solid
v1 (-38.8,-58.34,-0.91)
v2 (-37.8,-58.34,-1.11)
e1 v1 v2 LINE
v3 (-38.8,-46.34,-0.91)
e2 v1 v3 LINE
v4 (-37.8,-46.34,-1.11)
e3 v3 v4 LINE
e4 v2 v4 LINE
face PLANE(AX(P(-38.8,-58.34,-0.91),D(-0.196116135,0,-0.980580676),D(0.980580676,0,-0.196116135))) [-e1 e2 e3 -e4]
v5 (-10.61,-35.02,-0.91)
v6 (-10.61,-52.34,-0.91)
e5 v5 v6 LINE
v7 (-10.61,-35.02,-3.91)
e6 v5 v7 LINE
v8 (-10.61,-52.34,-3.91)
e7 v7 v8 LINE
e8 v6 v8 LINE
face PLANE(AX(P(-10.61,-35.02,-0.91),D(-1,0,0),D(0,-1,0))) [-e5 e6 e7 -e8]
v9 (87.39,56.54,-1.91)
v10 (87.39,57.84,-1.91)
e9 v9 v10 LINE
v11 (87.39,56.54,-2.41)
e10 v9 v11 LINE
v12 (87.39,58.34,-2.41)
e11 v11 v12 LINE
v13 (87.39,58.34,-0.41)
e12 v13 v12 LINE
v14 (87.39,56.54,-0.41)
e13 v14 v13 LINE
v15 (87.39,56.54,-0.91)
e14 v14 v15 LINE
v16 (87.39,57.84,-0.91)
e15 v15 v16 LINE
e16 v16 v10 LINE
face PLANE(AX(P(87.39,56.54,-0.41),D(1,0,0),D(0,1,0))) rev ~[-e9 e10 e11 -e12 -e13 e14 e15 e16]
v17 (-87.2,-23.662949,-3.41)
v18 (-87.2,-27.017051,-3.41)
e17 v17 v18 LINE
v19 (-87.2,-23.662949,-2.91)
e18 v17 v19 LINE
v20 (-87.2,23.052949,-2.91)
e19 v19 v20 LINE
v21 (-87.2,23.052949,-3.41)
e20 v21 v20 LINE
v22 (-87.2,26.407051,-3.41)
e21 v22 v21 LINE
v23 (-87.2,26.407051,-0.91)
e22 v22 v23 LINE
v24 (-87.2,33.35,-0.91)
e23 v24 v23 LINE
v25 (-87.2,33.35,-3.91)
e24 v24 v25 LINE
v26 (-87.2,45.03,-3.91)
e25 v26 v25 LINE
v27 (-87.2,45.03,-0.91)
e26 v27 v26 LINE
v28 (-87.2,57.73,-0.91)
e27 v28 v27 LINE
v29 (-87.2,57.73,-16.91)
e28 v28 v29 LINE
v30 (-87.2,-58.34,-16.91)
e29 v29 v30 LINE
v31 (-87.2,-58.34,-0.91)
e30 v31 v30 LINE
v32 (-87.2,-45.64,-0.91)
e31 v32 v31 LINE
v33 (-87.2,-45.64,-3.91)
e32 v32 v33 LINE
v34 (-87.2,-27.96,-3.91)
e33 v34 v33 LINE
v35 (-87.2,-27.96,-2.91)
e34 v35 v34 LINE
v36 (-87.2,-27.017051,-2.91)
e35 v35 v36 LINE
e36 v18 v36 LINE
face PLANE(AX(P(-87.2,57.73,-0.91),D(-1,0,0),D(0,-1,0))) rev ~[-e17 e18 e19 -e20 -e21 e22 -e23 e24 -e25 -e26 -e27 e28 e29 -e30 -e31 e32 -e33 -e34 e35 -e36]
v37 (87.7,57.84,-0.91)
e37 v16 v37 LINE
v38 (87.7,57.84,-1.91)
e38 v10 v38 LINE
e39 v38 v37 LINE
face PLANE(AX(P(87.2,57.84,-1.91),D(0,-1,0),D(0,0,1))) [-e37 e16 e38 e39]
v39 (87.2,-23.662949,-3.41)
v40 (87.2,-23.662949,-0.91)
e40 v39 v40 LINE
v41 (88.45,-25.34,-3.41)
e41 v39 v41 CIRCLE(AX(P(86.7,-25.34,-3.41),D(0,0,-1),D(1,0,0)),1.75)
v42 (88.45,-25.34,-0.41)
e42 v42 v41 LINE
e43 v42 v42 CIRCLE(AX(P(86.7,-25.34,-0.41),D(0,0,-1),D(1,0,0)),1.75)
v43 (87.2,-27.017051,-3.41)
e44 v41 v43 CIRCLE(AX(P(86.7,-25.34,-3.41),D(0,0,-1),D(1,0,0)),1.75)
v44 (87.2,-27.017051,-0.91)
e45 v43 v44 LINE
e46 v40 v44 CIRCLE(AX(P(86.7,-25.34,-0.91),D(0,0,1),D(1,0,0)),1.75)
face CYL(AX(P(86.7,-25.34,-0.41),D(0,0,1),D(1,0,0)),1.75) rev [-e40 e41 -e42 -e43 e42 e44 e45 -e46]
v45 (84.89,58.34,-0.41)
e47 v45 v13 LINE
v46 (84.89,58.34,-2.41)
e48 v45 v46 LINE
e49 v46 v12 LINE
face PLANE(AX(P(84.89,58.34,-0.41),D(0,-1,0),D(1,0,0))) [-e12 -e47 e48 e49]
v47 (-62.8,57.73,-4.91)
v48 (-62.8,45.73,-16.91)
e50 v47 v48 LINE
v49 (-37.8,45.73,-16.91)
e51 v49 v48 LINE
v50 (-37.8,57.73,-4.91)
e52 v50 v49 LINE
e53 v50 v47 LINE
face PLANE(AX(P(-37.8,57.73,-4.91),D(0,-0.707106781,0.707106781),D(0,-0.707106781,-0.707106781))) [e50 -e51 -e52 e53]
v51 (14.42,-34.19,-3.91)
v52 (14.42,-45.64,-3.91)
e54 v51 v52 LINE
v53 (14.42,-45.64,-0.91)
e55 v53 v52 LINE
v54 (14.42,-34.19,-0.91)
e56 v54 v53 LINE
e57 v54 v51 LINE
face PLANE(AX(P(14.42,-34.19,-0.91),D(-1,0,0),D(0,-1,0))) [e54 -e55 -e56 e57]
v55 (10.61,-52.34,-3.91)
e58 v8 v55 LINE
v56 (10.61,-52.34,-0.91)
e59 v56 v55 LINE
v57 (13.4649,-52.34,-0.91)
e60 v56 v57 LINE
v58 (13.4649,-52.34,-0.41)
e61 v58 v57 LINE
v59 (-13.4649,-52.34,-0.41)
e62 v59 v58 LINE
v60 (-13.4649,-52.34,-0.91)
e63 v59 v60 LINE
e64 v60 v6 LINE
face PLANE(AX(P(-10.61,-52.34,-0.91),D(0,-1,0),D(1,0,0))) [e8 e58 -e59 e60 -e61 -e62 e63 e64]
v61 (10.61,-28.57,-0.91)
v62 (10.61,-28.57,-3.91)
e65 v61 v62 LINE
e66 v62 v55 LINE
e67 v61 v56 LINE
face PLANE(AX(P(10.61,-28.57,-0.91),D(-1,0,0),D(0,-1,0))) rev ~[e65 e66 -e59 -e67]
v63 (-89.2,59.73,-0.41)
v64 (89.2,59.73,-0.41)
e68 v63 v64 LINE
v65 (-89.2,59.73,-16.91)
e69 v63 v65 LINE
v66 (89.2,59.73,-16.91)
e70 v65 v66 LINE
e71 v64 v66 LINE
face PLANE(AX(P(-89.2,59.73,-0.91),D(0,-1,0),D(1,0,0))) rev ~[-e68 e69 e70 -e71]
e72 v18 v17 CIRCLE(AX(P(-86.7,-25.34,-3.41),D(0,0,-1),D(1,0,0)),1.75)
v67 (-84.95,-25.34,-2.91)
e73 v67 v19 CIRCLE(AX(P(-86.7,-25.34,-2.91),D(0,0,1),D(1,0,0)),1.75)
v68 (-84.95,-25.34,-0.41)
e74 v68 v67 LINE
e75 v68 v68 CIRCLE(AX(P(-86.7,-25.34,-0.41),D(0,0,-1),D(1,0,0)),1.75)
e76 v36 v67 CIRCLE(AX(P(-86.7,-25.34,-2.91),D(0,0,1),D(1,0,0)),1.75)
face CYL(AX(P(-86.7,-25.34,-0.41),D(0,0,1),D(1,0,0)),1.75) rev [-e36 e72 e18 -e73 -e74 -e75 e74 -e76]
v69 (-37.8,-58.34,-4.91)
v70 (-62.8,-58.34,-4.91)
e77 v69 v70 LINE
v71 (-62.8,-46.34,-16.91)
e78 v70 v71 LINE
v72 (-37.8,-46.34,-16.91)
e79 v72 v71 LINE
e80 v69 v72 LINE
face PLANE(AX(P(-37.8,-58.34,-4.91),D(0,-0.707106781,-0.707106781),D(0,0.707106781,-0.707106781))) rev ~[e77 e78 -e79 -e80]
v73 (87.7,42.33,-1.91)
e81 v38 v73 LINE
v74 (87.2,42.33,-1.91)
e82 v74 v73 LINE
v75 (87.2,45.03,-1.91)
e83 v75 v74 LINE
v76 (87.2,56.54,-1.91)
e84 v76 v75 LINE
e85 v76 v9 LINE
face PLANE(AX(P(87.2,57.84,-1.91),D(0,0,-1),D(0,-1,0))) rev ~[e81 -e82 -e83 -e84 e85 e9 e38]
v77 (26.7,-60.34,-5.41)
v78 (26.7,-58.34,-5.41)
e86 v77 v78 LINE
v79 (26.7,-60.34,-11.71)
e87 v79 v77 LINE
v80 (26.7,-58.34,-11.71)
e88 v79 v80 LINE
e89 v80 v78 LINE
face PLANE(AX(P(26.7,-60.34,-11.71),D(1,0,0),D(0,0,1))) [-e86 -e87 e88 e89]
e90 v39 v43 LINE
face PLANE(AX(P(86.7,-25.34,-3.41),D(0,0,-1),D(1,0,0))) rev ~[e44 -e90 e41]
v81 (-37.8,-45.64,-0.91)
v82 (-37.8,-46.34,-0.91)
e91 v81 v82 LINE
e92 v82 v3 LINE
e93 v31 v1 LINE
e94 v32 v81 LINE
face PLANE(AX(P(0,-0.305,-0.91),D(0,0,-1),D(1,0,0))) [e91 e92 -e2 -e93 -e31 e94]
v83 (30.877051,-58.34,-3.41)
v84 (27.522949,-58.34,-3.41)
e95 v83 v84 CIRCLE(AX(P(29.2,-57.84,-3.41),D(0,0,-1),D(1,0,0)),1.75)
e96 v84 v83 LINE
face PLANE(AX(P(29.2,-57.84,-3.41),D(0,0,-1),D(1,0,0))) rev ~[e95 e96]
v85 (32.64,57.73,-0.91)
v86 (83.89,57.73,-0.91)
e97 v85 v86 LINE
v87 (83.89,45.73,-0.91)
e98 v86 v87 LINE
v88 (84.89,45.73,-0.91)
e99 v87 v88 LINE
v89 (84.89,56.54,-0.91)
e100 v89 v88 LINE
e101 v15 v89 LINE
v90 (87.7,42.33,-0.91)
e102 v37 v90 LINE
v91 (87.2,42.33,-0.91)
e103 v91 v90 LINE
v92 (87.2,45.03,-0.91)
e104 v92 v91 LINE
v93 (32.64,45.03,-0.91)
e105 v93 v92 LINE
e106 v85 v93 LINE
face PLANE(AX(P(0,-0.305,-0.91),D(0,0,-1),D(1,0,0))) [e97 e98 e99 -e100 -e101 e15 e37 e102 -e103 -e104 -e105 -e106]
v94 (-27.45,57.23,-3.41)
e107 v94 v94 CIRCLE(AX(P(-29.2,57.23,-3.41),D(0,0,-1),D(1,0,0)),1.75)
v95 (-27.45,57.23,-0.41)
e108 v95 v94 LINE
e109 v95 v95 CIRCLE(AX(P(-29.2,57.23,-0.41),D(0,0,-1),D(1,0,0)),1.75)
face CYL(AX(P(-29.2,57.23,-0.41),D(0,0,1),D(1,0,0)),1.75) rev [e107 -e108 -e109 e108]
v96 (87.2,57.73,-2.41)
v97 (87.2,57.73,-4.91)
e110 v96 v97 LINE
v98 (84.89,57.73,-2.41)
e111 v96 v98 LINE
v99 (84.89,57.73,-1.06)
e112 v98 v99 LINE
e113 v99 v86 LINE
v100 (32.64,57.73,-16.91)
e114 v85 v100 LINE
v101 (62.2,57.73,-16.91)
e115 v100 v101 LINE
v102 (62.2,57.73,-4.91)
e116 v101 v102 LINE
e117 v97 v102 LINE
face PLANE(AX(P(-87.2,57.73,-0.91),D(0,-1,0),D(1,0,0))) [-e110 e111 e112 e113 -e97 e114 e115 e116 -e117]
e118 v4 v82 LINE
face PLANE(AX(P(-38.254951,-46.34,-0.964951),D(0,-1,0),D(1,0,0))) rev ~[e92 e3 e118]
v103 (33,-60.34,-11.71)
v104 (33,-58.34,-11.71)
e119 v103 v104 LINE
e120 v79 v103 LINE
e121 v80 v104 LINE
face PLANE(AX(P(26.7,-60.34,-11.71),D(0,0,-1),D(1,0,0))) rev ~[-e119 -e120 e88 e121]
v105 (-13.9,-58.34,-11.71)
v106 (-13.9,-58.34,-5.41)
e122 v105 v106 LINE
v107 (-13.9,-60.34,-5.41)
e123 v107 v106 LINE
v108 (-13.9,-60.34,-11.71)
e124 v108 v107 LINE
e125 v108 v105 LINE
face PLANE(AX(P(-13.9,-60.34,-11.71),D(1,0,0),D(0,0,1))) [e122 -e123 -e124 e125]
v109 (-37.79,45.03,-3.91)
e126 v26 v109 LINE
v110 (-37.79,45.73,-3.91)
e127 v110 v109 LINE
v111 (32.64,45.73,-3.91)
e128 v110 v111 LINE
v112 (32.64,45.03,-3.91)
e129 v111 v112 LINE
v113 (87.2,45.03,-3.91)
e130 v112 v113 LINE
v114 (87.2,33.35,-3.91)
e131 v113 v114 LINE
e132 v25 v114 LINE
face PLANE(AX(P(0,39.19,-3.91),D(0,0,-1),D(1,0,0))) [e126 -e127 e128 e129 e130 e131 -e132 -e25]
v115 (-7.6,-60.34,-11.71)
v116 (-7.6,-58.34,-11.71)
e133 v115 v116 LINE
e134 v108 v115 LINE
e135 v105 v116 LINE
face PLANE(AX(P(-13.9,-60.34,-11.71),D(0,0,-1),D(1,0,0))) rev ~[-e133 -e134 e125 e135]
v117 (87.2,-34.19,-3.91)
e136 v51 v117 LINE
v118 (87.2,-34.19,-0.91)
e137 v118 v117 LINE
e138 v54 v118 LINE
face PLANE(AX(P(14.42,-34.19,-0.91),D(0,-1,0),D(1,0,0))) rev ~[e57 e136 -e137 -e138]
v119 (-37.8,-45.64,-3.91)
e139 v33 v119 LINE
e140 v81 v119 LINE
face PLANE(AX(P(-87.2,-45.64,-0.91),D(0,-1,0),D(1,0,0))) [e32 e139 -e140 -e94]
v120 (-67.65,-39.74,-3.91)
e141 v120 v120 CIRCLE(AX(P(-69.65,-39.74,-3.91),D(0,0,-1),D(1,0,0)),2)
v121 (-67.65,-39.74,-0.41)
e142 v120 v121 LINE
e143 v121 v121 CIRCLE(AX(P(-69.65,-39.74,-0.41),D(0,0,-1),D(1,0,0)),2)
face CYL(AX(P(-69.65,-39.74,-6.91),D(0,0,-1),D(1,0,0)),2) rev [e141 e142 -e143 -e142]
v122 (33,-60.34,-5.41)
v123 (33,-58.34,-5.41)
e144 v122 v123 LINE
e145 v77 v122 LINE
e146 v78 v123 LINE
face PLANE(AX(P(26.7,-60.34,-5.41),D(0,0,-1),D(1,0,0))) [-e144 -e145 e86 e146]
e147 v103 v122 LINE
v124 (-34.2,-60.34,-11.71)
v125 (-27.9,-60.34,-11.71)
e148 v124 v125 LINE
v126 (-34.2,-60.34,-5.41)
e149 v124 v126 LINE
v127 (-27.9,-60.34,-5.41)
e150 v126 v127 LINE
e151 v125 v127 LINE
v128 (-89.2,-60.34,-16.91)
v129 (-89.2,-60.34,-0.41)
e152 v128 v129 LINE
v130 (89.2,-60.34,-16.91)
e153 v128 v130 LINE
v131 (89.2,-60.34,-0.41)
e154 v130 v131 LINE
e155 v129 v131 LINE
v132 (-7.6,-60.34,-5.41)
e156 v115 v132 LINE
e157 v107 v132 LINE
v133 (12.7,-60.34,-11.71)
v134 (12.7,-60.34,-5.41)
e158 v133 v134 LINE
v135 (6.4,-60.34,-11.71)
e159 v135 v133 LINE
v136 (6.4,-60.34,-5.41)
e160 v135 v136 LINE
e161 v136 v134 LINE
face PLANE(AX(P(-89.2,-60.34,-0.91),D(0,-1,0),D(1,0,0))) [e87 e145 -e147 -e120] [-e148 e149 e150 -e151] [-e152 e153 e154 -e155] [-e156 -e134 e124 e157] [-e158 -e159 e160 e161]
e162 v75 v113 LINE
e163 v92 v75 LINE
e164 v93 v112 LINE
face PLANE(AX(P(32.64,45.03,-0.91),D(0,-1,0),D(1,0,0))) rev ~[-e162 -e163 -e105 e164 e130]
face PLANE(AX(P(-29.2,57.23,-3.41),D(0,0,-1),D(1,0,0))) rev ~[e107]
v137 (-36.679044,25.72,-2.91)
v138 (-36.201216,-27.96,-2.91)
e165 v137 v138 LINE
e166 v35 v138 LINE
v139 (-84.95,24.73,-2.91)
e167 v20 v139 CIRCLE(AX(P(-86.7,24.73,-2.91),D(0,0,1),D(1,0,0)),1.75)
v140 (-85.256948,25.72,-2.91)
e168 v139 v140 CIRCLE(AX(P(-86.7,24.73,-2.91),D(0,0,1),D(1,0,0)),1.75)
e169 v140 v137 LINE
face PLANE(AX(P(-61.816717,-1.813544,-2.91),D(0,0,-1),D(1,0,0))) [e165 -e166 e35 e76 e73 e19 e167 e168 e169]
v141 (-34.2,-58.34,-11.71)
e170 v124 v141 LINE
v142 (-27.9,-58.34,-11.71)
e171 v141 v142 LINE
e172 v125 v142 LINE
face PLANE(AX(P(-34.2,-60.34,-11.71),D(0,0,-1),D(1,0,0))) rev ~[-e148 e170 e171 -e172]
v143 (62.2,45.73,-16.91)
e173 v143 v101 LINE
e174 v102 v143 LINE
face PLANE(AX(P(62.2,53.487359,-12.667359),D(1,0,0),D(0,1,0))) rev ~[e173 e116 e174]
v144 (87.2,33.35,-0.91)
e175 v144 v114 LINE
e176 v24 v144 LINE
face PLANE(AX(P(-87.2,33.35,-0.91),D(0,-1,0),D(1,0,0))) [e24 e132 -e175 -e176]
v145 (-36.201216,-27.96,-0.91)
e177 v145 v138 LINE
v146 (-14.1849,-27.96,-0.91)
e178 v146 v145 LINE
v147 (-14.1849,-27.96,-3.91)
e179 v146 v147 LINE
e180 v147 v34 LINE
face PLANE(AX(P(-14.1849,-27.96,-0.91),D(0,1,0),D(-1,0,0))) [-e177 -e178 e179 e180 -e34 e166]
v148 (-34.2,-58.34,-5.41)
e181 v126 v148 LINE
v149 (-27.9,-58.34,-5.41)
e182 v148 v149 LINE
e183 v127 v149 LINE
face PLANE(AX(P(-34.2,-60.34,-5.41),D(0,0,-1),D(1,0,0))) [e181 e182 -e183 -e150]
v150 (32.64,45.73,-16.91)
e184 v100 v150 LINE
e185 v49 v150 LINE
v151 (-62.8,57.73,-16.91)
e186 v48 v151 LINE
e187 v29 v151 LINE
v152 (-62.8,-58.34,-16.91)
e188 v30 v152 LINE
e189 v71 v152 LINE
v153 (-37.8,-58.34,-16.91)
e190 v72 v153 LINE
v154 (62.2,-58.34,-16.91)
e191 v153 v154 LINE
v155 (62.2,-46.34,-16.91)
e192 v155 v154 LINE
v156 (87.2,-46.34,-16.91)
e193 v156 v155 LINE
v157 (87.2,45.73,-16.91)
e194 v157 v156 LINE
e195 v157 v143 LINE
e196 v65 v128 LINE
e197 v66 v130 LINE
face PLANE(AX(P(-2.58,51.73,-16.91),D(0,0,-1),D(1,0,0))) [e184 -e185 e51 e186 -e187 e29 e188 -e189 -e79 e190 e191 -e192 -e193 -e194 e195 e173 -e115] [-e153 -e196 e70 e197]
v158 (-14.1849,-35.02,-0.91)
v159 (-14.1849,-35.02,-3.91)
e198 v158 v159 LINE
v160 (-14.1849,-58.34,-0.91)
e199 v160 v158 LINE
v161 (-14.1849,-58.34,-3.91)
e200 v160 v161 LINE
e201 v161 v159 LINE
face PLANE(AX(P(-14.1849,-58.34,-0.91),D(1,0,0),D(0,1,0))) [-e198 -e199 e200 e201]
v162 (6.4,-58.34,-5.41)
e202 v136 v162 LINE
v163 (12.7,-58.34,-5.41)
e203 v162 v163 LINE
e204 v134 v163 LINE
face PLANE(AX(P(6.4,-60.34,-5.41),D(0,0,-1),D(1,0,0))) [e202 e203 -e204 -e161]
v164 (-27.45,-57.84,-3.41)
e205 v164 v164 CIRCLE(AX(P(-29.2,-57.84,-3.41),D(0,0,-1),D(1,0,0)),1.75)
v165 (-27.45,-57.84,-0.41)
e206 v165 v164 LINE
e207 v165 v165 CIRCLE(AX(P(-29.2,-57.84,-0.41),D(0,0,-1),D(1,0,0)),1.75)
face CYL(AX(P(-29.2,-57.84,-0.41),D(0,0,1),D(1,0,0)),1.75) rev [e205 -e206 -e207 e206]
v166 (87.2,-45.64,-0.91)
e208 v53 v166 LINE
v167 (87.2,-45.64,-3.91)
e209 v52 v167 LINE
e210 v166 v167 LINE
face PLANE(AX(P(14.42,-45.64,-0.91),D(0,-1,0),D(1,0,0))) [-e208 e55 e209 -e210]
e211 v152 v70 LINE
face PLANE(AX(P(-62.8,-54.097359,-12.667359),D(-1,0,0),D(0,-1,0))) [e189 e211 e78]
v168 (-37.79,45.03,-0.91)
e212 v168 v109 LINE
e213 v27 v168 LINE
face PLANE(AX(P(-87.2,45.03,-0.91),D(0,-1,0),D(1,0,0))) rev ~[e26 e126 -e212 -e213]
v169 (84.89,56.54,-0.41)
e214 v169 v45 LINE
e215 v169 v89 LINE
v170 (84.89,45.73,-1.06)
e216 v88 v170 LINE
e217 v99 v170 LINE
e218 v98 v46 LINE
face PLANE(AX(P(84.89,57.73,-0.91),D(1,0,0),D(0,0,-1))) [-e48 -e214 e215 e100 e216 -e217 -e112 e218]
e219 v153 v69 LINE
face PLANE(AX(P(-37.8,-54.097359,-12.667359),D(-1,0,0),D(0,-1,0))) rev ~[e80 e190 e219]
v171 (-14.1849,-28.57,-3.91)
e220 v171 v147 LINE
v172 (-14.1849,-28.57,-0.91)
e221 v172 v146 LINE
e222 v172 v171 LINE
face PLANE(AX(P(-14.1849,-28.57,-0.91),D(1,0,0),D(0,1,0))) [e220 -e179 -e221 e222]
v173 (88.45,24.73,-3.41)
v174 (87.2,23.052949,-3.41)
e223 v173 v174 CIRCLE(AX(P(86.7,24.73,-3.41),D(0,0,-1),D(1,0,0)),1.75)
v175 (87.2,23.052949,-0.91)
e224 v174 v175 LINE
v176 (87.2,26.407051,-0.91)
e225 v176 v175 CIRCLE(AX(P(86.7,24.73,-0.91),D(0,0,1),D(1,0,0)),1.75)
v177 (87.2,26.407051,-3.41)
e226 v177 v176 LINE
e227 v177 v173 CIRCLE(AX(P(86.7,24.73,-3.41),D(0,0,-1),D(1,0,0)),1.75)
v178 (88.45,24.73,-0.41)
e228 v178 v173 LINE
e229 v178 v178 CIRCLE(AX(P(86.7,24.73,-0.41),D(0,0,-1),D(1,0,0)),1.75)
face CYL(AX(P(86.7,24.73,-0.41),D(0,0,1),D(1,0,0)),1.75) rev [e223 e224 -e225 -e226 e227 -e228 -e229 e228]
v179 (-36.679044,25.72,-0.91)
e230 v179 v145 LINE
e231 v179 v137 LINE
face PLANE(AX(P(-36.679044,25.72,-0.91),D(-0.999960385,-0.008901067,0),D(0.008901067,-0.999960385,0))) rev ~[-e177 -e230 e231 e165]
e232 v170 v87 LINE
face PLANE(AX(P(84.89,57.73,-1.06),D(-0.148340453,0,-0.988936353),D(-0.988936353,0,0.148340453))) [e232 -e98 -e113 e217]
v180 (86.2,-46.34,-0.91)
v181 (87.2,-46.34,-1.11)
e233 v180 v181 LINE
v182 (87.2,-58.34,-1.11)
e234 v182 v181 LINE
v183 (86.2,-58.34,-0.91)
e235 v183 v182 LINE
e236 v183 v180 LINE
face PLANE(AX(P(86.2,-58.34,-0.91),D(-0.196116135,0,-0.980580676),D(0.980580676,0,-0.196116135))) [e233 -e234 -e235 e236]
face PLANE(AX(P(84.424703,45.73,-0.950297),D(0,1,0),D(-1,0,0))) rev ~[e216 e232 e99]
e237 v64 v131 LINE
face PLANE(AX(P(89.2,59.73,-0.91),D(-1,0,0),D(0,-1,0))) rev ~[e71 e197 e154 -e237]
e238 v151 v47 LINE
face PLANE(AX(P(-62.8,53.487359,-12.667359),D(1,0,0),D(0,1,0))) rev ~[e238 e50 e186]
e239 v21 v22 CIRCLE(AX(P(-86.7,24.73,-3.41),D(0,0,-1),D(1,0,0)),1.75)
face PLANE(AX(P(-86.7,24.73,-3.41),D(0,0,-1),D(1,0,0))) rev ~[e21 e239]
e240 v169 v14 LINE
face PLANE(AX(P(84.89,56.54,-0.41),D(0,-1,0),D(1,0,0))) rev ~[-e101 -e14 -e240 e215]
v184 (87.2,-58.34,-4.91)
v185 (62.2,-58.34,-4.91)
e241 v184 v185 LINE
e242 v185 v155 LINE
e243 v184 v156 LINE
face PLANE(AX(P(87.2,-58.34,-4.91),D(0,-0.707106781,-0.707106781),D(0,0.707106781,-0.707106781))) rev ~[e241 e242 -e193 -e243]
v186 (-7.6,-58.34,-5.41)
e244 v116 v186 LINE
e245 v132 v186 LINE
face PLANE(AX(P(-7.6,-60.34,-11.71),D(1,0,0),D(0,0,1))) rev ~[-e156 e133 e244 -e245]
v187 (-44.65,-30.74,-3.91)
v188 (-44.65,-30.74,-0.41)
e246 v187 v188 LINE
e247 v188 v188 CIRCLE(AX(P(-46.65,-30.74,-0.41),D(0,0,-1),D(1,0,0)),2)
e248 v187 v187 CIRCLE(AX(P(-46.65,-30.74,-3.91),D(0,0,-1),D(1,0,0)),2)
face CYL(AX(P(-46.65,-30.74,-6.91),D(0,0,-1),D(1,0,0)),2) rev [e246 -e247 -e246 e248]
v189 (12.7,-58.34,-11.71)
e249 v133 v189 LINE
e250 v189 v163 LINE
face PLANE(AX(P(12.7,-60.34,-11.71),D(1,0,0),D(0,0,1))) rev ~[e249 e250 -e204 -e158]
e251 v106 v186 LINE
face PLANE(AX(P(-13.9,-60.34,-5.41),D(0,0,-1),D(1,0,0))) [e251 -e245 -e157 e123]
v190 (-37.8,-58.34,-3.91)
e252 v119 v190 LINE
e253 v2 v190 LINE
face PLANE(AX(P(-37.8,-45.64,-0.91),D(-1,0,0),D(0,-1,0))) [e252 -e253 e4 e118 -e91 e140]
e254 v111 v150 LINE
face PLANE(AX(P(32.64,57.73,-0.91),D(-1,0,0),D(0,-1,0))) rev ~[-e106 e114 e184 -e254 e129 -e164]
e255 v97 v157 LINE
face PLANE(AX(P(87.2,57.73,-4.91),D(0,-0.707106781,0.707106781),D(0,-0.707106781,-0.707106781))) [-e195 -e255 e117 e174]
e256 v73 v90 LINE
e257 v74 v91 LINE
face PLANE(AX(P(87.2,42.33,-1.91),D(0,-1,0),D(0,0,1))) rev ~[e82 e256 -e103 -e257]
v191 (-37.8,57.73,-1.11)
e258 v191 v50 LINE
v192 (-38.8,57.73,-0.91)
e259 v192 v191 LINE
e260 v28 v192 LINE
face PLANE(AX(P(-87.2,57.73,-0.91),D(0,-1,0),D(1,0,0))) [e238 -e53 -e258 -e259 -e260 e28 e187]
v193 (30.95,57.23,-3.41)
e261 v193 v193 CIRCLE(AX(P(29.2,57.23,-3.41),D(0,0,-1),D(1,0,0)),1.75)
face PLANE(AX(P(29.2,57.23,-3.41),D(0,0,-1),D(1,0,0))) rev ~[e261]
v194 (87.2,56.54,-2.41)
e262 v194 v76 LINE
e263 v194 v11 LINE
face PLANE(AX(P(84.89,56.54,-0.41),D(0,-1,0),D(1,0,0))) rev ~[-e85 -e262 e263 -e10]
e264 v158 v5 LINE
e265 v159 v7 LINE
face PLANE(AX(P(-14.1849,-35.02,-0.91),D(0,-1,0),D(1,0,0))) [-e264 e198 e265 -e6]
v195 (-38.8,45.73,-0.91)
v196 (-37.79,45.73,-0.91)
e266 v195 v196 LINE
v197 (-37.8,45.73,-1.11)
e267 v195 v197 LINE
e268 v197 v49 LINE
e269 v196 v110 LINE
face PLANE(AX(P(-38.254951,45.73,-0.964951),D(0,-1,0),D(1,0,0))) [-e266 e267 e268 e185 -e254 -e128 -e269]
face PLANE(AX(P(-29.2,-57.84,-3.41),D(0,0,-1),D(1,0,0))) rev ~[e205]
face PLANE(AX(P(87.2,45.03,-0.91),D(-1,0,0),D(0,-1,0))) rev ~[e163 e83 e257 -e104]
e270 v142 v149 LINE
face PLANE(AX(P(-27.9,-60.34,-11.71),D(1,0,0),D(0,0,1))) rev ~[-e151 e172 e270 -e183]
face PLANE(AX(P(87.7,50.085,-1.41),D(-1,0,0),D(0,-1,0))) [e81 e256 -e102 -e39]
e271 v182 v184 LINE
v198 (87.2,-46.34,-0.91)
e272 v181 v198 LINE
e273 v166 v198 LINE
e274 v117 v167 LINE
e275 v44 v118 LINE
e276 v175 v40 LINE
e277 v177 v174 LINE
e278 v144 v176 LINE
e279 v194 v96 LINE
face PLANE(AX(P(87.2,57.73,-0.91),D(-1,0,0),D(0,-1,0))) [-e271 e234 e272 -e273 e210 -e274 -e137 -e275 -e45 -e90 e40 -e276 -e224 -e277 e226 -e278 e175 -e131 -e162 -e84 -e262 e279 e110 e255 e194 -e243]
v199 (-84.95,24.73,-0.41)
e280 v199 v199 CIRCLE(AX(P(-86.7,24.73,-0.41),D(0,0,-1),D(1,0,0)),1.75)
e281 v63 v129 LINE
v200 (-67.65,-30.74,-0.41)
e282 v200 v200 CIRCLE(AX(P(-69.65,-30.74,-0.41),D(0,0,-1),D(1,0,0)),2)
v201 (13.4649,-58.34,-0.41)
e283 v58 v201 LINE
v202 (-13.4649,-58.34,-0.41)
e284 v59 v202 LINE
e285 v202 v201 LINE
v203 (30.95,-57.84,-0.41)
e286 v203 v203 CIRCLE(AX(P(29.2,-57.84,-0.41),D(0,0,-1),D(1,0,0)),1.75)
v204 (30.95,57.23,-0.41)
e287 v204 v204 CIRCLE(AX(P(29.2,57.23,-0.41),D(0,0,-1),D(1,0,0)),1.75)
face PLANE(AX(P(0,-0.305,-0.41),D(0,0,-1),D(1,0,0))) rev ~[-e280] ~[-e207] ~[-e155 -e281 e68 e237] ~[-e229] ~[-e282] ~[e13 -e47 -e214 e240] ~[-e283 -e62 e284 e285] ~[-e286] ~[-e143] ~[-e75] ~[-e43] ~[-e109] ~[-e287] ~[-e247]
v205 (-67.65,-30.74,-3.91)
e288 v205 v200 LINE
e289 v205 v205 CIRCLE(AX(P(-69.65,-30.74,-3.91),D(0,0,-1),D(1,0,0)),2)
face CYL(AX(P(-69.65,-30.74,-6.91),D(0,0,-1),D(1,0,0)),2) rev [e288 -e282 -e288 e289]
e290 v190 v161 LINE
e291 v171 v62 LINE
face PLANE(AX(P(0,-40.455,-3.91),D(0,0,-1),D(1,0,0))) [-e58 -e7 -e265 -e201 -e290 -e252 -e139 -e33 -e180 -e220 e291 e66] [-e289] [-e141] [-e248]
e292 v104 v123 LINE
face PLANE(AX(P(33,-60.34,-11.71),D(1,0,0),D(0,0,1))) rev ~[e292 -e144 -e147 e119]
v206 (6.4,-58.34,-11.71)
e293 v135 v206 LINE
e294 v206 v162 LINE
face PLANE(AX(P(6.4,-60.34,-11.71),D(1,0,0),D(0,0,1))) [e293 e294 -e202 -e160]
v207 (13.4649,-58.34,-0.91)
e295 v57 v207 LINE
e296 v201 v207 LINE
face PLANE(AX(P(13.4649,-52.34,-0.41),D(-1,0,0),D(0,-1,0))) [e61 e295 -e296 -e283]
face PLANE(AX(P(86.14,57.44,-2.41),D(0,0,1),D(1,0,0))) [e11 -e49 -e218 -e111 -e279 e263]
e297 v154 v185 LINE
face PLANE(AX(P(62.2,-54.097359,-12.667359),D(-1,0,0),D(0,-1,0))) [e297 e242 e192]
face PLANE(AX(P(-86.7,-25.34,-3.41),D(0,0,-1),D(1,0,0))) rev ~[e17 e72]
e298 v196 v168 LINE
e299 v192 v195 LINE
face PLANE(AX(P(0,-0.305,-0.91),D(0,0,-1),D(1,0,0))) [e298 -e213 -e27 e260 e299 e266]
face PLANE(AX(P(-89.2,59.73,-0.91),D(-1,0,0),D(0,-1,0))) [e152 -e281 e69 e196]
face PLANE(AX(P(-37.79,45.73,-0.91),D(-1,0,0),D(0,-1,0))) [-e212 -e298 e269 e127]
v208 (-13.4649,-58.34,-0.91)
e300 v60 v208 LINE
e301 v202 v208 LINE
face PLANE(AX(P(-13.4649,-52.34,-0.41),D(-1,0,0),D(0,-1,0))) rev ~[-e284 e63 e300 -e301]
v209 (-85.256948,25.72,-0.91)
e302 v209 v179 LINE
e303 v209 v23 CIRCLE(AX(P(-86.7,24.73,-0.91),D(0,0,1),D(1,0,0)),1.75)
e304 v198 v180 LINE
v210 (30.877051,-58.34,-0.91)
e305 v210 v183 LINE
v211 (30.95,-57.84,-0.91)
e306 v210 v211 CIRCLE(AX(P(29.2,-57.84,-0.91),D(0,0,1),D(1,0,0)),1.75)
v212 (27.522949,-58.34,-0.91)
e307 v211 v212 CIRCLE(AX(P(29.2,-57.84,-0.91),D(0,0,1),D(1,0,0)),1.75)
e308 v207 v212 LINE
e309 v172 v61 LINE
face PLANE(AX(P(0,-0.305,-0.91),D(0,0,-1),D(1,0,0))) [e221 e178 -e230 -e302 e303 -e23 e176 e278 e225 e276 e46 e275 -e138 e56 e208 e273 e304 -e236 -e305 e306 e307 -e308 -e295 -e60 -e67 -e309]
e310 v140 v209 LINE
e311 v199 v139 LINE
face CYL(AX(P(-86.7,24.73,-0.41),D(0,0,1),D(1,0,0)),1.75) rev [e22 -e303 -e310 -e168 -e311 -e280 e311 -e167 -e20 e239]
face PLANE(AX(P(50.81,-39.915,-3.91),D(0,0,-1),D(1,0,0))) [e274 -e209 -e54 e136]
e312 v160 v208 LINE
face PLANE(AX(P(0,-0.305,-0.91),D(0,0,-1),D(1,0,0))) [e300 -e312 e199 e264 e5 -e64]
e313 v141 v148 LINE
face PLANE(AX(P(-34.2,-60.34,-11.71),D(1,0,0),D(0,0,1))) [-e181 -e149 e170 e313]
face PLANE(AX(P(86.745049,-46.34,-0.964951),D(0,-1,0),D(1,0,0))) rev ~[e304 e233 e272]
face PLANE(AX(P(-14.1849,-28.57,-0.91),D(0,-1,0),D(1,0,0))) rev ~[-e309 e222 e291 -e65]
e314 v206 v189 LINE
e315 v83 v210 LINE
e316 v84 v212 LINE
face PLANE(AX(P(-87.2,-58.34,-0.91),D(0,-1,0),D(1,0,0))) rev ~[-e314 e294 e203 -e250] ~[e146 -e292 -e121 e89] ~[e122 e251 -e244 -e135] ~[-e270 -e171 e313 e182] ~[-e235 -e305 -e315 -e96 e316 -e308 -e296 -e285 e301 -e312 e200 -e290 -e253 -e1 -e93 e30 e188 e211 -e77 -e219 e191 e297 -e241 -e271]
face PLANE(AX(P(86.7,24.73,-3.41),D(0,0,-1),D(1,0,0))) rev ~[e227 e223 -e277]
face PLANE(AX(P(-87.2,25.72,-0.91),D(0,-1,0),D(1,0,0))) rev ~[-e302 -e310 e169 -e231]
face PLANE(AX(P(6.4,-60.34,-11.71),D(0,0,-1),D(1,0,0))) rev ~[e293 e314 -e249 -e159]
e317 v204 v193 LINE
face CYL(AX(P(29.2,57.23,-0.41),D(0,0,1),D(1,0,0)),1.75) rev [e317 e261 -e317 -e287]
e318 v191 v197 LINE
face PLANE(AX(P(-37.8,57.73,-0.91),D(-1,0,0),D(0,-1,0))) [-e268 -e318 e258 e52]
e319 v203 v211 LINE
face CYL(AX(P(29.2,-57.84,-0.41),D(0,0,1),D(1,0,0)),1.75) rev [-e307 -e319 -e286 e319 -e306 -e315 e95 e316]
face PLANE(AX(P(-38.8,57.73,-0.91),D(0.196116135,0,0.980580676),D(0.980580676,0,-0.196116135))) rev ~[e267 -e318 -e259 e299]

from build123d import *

# Parameters (mm, degrees)
SKETCH028_W         = 178.4
SKETCH028_H         = 120.07
PAD017_DEPTH        = 1
SKETCH029_R         = 1.75
PAD018_DEPTH        = 3
SKETCH026_W         = 32
SKETCH026_H         = 18
PAD015_DEPTH        = 1
SKETCH027_R         = 2
PAD016_DEPTH        = 10
SKETCH002_W         = 178.4
SKETCH002_H         = 120.07
SKETCH002_W_2       = 26.9298
SKETCH002_H_2       = 6
PAD002_DEPTH        = 0.5
SKETCH003_W         = 178.4
SKETCH003_H         = 120.07
SKETCH003_W_2       = 174.4
SKETCH003_H_2       = 116.07
PAD003_DEPTH        = 16
PAD004_DEPTH        = 25
LINEARPATTERN_COUNT = 2
LINEARPATTERN_PITCH = 125
SKETCH012_R         = 0.8
POCKET002_DEPTH     = 2.5
SKETCH013_W         = 2.5
SKETCH013_H         = 1.8
POCKET003_DEPTH     = 2
SKETCH017_W         = 6.3
SKETCH017_H         = 6.3
POCKET004_DEPTH     = 5
PAD010_DEPTH        = 2
SKETCH019_W         = 15.51
SKETCH019_H         = 1
POCKET005_DEPTH     = 0.5
SKETCH020_W         = 70.44
SKETCH020_H         = 12
PAD011_DEPTH        = 16
PAD012_DEPTH        = 12
PAD013_DEPTH        = 12
SKETCH025_W         = 21.22
SKETCH025_H         = 23.77
SKETCH025_W_2       = 3.5749
SKETCH025_H_2       = 6.45
SKETCH025_W_3       = 72.78
SKETCH025_H_3       = 11.45
SKETCH025_W_4       = 174.4
SKETCH025_H_4       = 11.68
SKETCH025_W_5       = 70.43
SKETCH025_H_5       = 0.7
PAD014_DEPTH        = 3


with BuildPart() as holes_bezel:
    # Sketch028 (on Face1 of Binder013) → Pad017 (new body)
    with BuildSketch(Plane(origin=(0, 0, -0.41), x_dir=(1, 0, 0), z_dir=(0, 0, -1))):
        with Locations((0, 0.305)):
            Rectangle(SKETCH028_W, SKETCH028_H)
    extrude(amount=-PAD017_DEPTH)

    # Sketch029 (on Face5 of Pad017) → Pad018 (join)
    with BuildSketch(Plane(origin=(0, 0, -0.41), x_dir=(1, 0, 0), z_dir=(0, 0, -1))):
        with Locations((29.2, 57.84)):
            Circle(SKETCH029_R)
        with Locations((-29.2, 57.84)):
            Circle(SKETCH029_R)
        with Locations((86.7, 25.34)):
            Circle(SKETCH029_R)
        with Locations((86.7, -24.73)):
            Circle(SKETCH029_R)
        with Locations((29.2, -57.23)):
            Circle(SKETCH029_R)
        with Locations((-29.2, -57.23)):
            Circle(SKETCH029_R)
        with Locations((-86.7, -24.73)):
            Circle(SKETCH029_R)
        with Locations((-86.7, 25.34)):
            Circle(SKETCH029_R)
    extrude(amount=PAD018_DEPTH)


with BuildPart() as holes:
    # Sketch026 (on Face9 of Binder011) → Pad015 (new body)
    with BuildSketch(Plane(origin=(0, 0, -6.91), x_dir=(1, 0, 0), z_dir=(0, 0, -1))):
        with Locations((-58.15, 35.24)):
            Rectangle(SKETCH026_W, SKETCH026_H)
    extrude(amount=PAD015_DEPTH)

    # Sketch027 (on Face5 of Pad015) → Pad016 (join)
    with BuildSketch(Plane.XY.offset(-6.91)):
        with Locations((-69.65, -30.74)):
            Circle(SKETCH027_R)
        with Locations((-46.65, -30.74)):
            Circle(SKETCH027_R)
        with Locations((-69.65, -39.74)):
            Circle(SKETCH027_R)
    extrude(amount=PAD016_DEPTH)


with BuildPart() as cut_case:
    # Sketch002 (on Face1 of Binder001) → Pad002 (new body)
    with BuildSketch(Plane(origin=(0, 0, -0.41), x_dir=(1, 0, 0), z_dir=(0, 0, -1))):
        with Locations((0, 0.305)):
            Rectangle(SKETCH002_W, SKETCH002_H)
        with Locations((0, 55.34)):
            Rectangle(SKETCH002_W_2, SKETCH002_H_2, mode=Mode.SUBTRACT)
    extrude(amount=PAD002_DEPTH)

    # Sketch003 (on Face10 of Pad002) → Pad003 (join)
    with BuildSketch(Plane(origin=(0, 0, -0.91), x_dir=(1, 0, 0), z_dir=(0, 0, -1))):
        with Locations((0, 0.305)):
            Rectangle(SKETCH003_W, SKETCH003_H)
        with Locations((0, 0.305)):
            Rectangle(SKETCH003_W_2, SKETCH003_H_2, mode=Mode.SUBTRACT)
    extrude(amount=PAD003_DEPTH)

    # Sketch004 (on Face9 of Pad003) → Pad004 (join)
    with BuildSketch(Plane(origin=(87.2, 0, 0), x_dir=(0, -1, 0), z_dir=(-1, 0, 0))):
        Polygon((-57.73, -16.91), (-57.73, -4.91), (-45.73, -16.91), align=None)
        Polygon((58.34, -16.91), (58.34, -4.91), (46.34, -16.91), align=None)
    pad004 = extrude(amount=PAD004_DEPTH)

    # LinearPattern: Pad004 ×2
    with Locations(*[(-i * LINEARPATTERN_PITCH, 0, 0) for i in range(1, LINEARPATTERN_COUNT)]):
        add(pad004)

    # Sketch012 (on Face1 of LinearPattern) → Pocket002 (cut)
    with BuildSketch(Plane.XY.offset(-0.41)):
        with Locations((-86.7, 24.73)):
            Circle(SKETCH012_R)
        with Locations((-86.7, -25.34)):
            Circle(SKETCH012_R)
        with Locations((-29.2, -57.84)):
            Circle(SKETCH012_R)
        with Locations((29.2, -57.84)):
            Circle(SKETCH012_R)
        with Locations((86.7, -25.34)):
            Circle(SKETCH012_R)
        with Locations((86.7, 24.73)):
            Circle(SKETCH012_R)
        with Locations((29.2, 57.23)):
            Circle(SKETCH012_R)
        with Locations((-29.2, 57.23)):
            Circle(SKETCH012_R)
    extrude(amount=-POCKET002_DEPTH, mode=Mode.SUBTRACT)

    # Sketch013 (on Face1 of Pocket002) → Pocket003 (cut)
    with BuildSketch(Plane.XY.offset(-0.41)):
        with Locations((86.14, 57.44)):
            Rectangle(SKETCH013_W, SKETCH013_H)
    extrude(amount=-POCKET003_DEPTH, mode=Mode.SUBTRACT)

    # Sketch017 (on Face3 of Pocket003) → Pocket004 (cut)
    with BuildSketch(Plane.XZ.offset(60.34)):
        with Locations((-31.05, -8.56)):
            Rectangle(SKETCH017_W, SKETCH017_H)
        with Locations((-10.75, -8.56)):
            Rectangle(SKETCH017_W, SKETCH017_H)
        with Locations((9.55, -8.56)):
            Rectangle(SKETCH017_W, SKETCH017_H)
        with Locations((29.85, -8.56)):
            Rectangle(SKETCH017_W, SKETCH017_H)
    extrude(amount=-POCKET004_DEPTH, mode=Mode.SUBTRACT)

    # Sketch018 (on Face39 of Pocket004) → Pad010 (join)
    with BuildSketch(Plane(origin=(0, 0, -0.91), x_dir=(1, 0, 0), z_dir=(0, 0, -1))):
        Polygon((-87.2, 29.22), (-87.2, -25.72), (-36.679044, -25.72), (-36.19, 29.22), align=None)
    extrude(amount=PAD010_DEPTH)

    # Sketch019 (on Face42 of Pad010) → Pocket005 (cut)
    with BuildSketch(Plane(origin=(87.2, 0, 0), x_dir=(0, -1, 0), z_dir=(-1, 0, 0))):
        with Locations((-50.085, -1.41)):
            Rectangle(SKETCH019_W, SKETCH019_H)
    extrude(amount=-POCKET005_DEPTH, mode=Mode.SUBTRACT)

    # Sketch020 (on Face74 of Pocket005) → Pad011 (join)
    with BuildSketch(Plane(origin=(0, 0, -0.91), x_dir=(1, 0, 0), z_dir=(0, 0, -1))):
        with Locations((-2.58, -51.73)):
            Rectangle(SKETCH020_W, SKETCH020_H)
    extrude(amount=PAD011_DEPTH)

    # Sketch022 (on Face69 of Pad011) → Pad012 (join)
    with BuildSketch(Plane.XZ.offset(-57.73)):
        Polygon((-38.8, -0.91), (-37.8, -1.11), (-37.8, -0.91), align=None)
        Polygon((84.89, -1.06), (83.89, -0.91), (84.89, -0.91), align=None)
    extrude(amount=PAD012_DEPTH)

    # Sketch023 (on Face10 of Pad012) → Pad013 (join)
    with BuildSketch(Plane(origin=(0, -58.34, 0), x_dir=(-1, 0, 0), z_dir=(0, 1, 0))):
        Polygon((37.8, -0.91), (38.8, -0.91), (37.8, -1.11), align=None)
        Polygon((-87.2, -0.91), (-86.2, -0.91), (-87.2, -1.11), align=None)
    extrude(amount=PAD013_DEPTH)

    # Sketch025 (on Face39 of Pad013) → Pad014 (join)
    with BuildSketch(Plane(origin=(0, 0, -0.91), x_dir=(1, 0, 0), z_dir=(0, 0, -1))):
        with Locations((0, 40.455)):
            Rectangle(SKETCH025_W, SKETCH025_H)
        Polygon((-14.1849, 27.96), (-87.2, 27.96), (-87.2, 45.64), (-37.8, 45.64), (-37.8, 58.34), (-14.1849, 58.34), align=None)
        with Locations((-12.39745, 31.795)):
            Rectangle(SKETCH025_W_2, SKETCH025_H_2)
        with Locations((50.81, 39.915)):
            Rectangle(SKETCH025_W_3, SKETCH025_H_3)
        with Locations((0, -39.19)):
            Rectangle(SKETCH025_W_4, SKETCH025_H_4)
        with Locations((-2.575, -45.38)):
            Rectangle(SKETCH025_W_5, SKETCH025_H_5)
    extrude(amount=PAD014_DEPTH)

    # Cut: cut holes
    add(holes.part, mode=Mode.SUBTRACT)

    # Cut001: cut holes bezel
    add(holes_bezel.part, mode=Mode.SUBTRACT)


solid = cut_case.part
